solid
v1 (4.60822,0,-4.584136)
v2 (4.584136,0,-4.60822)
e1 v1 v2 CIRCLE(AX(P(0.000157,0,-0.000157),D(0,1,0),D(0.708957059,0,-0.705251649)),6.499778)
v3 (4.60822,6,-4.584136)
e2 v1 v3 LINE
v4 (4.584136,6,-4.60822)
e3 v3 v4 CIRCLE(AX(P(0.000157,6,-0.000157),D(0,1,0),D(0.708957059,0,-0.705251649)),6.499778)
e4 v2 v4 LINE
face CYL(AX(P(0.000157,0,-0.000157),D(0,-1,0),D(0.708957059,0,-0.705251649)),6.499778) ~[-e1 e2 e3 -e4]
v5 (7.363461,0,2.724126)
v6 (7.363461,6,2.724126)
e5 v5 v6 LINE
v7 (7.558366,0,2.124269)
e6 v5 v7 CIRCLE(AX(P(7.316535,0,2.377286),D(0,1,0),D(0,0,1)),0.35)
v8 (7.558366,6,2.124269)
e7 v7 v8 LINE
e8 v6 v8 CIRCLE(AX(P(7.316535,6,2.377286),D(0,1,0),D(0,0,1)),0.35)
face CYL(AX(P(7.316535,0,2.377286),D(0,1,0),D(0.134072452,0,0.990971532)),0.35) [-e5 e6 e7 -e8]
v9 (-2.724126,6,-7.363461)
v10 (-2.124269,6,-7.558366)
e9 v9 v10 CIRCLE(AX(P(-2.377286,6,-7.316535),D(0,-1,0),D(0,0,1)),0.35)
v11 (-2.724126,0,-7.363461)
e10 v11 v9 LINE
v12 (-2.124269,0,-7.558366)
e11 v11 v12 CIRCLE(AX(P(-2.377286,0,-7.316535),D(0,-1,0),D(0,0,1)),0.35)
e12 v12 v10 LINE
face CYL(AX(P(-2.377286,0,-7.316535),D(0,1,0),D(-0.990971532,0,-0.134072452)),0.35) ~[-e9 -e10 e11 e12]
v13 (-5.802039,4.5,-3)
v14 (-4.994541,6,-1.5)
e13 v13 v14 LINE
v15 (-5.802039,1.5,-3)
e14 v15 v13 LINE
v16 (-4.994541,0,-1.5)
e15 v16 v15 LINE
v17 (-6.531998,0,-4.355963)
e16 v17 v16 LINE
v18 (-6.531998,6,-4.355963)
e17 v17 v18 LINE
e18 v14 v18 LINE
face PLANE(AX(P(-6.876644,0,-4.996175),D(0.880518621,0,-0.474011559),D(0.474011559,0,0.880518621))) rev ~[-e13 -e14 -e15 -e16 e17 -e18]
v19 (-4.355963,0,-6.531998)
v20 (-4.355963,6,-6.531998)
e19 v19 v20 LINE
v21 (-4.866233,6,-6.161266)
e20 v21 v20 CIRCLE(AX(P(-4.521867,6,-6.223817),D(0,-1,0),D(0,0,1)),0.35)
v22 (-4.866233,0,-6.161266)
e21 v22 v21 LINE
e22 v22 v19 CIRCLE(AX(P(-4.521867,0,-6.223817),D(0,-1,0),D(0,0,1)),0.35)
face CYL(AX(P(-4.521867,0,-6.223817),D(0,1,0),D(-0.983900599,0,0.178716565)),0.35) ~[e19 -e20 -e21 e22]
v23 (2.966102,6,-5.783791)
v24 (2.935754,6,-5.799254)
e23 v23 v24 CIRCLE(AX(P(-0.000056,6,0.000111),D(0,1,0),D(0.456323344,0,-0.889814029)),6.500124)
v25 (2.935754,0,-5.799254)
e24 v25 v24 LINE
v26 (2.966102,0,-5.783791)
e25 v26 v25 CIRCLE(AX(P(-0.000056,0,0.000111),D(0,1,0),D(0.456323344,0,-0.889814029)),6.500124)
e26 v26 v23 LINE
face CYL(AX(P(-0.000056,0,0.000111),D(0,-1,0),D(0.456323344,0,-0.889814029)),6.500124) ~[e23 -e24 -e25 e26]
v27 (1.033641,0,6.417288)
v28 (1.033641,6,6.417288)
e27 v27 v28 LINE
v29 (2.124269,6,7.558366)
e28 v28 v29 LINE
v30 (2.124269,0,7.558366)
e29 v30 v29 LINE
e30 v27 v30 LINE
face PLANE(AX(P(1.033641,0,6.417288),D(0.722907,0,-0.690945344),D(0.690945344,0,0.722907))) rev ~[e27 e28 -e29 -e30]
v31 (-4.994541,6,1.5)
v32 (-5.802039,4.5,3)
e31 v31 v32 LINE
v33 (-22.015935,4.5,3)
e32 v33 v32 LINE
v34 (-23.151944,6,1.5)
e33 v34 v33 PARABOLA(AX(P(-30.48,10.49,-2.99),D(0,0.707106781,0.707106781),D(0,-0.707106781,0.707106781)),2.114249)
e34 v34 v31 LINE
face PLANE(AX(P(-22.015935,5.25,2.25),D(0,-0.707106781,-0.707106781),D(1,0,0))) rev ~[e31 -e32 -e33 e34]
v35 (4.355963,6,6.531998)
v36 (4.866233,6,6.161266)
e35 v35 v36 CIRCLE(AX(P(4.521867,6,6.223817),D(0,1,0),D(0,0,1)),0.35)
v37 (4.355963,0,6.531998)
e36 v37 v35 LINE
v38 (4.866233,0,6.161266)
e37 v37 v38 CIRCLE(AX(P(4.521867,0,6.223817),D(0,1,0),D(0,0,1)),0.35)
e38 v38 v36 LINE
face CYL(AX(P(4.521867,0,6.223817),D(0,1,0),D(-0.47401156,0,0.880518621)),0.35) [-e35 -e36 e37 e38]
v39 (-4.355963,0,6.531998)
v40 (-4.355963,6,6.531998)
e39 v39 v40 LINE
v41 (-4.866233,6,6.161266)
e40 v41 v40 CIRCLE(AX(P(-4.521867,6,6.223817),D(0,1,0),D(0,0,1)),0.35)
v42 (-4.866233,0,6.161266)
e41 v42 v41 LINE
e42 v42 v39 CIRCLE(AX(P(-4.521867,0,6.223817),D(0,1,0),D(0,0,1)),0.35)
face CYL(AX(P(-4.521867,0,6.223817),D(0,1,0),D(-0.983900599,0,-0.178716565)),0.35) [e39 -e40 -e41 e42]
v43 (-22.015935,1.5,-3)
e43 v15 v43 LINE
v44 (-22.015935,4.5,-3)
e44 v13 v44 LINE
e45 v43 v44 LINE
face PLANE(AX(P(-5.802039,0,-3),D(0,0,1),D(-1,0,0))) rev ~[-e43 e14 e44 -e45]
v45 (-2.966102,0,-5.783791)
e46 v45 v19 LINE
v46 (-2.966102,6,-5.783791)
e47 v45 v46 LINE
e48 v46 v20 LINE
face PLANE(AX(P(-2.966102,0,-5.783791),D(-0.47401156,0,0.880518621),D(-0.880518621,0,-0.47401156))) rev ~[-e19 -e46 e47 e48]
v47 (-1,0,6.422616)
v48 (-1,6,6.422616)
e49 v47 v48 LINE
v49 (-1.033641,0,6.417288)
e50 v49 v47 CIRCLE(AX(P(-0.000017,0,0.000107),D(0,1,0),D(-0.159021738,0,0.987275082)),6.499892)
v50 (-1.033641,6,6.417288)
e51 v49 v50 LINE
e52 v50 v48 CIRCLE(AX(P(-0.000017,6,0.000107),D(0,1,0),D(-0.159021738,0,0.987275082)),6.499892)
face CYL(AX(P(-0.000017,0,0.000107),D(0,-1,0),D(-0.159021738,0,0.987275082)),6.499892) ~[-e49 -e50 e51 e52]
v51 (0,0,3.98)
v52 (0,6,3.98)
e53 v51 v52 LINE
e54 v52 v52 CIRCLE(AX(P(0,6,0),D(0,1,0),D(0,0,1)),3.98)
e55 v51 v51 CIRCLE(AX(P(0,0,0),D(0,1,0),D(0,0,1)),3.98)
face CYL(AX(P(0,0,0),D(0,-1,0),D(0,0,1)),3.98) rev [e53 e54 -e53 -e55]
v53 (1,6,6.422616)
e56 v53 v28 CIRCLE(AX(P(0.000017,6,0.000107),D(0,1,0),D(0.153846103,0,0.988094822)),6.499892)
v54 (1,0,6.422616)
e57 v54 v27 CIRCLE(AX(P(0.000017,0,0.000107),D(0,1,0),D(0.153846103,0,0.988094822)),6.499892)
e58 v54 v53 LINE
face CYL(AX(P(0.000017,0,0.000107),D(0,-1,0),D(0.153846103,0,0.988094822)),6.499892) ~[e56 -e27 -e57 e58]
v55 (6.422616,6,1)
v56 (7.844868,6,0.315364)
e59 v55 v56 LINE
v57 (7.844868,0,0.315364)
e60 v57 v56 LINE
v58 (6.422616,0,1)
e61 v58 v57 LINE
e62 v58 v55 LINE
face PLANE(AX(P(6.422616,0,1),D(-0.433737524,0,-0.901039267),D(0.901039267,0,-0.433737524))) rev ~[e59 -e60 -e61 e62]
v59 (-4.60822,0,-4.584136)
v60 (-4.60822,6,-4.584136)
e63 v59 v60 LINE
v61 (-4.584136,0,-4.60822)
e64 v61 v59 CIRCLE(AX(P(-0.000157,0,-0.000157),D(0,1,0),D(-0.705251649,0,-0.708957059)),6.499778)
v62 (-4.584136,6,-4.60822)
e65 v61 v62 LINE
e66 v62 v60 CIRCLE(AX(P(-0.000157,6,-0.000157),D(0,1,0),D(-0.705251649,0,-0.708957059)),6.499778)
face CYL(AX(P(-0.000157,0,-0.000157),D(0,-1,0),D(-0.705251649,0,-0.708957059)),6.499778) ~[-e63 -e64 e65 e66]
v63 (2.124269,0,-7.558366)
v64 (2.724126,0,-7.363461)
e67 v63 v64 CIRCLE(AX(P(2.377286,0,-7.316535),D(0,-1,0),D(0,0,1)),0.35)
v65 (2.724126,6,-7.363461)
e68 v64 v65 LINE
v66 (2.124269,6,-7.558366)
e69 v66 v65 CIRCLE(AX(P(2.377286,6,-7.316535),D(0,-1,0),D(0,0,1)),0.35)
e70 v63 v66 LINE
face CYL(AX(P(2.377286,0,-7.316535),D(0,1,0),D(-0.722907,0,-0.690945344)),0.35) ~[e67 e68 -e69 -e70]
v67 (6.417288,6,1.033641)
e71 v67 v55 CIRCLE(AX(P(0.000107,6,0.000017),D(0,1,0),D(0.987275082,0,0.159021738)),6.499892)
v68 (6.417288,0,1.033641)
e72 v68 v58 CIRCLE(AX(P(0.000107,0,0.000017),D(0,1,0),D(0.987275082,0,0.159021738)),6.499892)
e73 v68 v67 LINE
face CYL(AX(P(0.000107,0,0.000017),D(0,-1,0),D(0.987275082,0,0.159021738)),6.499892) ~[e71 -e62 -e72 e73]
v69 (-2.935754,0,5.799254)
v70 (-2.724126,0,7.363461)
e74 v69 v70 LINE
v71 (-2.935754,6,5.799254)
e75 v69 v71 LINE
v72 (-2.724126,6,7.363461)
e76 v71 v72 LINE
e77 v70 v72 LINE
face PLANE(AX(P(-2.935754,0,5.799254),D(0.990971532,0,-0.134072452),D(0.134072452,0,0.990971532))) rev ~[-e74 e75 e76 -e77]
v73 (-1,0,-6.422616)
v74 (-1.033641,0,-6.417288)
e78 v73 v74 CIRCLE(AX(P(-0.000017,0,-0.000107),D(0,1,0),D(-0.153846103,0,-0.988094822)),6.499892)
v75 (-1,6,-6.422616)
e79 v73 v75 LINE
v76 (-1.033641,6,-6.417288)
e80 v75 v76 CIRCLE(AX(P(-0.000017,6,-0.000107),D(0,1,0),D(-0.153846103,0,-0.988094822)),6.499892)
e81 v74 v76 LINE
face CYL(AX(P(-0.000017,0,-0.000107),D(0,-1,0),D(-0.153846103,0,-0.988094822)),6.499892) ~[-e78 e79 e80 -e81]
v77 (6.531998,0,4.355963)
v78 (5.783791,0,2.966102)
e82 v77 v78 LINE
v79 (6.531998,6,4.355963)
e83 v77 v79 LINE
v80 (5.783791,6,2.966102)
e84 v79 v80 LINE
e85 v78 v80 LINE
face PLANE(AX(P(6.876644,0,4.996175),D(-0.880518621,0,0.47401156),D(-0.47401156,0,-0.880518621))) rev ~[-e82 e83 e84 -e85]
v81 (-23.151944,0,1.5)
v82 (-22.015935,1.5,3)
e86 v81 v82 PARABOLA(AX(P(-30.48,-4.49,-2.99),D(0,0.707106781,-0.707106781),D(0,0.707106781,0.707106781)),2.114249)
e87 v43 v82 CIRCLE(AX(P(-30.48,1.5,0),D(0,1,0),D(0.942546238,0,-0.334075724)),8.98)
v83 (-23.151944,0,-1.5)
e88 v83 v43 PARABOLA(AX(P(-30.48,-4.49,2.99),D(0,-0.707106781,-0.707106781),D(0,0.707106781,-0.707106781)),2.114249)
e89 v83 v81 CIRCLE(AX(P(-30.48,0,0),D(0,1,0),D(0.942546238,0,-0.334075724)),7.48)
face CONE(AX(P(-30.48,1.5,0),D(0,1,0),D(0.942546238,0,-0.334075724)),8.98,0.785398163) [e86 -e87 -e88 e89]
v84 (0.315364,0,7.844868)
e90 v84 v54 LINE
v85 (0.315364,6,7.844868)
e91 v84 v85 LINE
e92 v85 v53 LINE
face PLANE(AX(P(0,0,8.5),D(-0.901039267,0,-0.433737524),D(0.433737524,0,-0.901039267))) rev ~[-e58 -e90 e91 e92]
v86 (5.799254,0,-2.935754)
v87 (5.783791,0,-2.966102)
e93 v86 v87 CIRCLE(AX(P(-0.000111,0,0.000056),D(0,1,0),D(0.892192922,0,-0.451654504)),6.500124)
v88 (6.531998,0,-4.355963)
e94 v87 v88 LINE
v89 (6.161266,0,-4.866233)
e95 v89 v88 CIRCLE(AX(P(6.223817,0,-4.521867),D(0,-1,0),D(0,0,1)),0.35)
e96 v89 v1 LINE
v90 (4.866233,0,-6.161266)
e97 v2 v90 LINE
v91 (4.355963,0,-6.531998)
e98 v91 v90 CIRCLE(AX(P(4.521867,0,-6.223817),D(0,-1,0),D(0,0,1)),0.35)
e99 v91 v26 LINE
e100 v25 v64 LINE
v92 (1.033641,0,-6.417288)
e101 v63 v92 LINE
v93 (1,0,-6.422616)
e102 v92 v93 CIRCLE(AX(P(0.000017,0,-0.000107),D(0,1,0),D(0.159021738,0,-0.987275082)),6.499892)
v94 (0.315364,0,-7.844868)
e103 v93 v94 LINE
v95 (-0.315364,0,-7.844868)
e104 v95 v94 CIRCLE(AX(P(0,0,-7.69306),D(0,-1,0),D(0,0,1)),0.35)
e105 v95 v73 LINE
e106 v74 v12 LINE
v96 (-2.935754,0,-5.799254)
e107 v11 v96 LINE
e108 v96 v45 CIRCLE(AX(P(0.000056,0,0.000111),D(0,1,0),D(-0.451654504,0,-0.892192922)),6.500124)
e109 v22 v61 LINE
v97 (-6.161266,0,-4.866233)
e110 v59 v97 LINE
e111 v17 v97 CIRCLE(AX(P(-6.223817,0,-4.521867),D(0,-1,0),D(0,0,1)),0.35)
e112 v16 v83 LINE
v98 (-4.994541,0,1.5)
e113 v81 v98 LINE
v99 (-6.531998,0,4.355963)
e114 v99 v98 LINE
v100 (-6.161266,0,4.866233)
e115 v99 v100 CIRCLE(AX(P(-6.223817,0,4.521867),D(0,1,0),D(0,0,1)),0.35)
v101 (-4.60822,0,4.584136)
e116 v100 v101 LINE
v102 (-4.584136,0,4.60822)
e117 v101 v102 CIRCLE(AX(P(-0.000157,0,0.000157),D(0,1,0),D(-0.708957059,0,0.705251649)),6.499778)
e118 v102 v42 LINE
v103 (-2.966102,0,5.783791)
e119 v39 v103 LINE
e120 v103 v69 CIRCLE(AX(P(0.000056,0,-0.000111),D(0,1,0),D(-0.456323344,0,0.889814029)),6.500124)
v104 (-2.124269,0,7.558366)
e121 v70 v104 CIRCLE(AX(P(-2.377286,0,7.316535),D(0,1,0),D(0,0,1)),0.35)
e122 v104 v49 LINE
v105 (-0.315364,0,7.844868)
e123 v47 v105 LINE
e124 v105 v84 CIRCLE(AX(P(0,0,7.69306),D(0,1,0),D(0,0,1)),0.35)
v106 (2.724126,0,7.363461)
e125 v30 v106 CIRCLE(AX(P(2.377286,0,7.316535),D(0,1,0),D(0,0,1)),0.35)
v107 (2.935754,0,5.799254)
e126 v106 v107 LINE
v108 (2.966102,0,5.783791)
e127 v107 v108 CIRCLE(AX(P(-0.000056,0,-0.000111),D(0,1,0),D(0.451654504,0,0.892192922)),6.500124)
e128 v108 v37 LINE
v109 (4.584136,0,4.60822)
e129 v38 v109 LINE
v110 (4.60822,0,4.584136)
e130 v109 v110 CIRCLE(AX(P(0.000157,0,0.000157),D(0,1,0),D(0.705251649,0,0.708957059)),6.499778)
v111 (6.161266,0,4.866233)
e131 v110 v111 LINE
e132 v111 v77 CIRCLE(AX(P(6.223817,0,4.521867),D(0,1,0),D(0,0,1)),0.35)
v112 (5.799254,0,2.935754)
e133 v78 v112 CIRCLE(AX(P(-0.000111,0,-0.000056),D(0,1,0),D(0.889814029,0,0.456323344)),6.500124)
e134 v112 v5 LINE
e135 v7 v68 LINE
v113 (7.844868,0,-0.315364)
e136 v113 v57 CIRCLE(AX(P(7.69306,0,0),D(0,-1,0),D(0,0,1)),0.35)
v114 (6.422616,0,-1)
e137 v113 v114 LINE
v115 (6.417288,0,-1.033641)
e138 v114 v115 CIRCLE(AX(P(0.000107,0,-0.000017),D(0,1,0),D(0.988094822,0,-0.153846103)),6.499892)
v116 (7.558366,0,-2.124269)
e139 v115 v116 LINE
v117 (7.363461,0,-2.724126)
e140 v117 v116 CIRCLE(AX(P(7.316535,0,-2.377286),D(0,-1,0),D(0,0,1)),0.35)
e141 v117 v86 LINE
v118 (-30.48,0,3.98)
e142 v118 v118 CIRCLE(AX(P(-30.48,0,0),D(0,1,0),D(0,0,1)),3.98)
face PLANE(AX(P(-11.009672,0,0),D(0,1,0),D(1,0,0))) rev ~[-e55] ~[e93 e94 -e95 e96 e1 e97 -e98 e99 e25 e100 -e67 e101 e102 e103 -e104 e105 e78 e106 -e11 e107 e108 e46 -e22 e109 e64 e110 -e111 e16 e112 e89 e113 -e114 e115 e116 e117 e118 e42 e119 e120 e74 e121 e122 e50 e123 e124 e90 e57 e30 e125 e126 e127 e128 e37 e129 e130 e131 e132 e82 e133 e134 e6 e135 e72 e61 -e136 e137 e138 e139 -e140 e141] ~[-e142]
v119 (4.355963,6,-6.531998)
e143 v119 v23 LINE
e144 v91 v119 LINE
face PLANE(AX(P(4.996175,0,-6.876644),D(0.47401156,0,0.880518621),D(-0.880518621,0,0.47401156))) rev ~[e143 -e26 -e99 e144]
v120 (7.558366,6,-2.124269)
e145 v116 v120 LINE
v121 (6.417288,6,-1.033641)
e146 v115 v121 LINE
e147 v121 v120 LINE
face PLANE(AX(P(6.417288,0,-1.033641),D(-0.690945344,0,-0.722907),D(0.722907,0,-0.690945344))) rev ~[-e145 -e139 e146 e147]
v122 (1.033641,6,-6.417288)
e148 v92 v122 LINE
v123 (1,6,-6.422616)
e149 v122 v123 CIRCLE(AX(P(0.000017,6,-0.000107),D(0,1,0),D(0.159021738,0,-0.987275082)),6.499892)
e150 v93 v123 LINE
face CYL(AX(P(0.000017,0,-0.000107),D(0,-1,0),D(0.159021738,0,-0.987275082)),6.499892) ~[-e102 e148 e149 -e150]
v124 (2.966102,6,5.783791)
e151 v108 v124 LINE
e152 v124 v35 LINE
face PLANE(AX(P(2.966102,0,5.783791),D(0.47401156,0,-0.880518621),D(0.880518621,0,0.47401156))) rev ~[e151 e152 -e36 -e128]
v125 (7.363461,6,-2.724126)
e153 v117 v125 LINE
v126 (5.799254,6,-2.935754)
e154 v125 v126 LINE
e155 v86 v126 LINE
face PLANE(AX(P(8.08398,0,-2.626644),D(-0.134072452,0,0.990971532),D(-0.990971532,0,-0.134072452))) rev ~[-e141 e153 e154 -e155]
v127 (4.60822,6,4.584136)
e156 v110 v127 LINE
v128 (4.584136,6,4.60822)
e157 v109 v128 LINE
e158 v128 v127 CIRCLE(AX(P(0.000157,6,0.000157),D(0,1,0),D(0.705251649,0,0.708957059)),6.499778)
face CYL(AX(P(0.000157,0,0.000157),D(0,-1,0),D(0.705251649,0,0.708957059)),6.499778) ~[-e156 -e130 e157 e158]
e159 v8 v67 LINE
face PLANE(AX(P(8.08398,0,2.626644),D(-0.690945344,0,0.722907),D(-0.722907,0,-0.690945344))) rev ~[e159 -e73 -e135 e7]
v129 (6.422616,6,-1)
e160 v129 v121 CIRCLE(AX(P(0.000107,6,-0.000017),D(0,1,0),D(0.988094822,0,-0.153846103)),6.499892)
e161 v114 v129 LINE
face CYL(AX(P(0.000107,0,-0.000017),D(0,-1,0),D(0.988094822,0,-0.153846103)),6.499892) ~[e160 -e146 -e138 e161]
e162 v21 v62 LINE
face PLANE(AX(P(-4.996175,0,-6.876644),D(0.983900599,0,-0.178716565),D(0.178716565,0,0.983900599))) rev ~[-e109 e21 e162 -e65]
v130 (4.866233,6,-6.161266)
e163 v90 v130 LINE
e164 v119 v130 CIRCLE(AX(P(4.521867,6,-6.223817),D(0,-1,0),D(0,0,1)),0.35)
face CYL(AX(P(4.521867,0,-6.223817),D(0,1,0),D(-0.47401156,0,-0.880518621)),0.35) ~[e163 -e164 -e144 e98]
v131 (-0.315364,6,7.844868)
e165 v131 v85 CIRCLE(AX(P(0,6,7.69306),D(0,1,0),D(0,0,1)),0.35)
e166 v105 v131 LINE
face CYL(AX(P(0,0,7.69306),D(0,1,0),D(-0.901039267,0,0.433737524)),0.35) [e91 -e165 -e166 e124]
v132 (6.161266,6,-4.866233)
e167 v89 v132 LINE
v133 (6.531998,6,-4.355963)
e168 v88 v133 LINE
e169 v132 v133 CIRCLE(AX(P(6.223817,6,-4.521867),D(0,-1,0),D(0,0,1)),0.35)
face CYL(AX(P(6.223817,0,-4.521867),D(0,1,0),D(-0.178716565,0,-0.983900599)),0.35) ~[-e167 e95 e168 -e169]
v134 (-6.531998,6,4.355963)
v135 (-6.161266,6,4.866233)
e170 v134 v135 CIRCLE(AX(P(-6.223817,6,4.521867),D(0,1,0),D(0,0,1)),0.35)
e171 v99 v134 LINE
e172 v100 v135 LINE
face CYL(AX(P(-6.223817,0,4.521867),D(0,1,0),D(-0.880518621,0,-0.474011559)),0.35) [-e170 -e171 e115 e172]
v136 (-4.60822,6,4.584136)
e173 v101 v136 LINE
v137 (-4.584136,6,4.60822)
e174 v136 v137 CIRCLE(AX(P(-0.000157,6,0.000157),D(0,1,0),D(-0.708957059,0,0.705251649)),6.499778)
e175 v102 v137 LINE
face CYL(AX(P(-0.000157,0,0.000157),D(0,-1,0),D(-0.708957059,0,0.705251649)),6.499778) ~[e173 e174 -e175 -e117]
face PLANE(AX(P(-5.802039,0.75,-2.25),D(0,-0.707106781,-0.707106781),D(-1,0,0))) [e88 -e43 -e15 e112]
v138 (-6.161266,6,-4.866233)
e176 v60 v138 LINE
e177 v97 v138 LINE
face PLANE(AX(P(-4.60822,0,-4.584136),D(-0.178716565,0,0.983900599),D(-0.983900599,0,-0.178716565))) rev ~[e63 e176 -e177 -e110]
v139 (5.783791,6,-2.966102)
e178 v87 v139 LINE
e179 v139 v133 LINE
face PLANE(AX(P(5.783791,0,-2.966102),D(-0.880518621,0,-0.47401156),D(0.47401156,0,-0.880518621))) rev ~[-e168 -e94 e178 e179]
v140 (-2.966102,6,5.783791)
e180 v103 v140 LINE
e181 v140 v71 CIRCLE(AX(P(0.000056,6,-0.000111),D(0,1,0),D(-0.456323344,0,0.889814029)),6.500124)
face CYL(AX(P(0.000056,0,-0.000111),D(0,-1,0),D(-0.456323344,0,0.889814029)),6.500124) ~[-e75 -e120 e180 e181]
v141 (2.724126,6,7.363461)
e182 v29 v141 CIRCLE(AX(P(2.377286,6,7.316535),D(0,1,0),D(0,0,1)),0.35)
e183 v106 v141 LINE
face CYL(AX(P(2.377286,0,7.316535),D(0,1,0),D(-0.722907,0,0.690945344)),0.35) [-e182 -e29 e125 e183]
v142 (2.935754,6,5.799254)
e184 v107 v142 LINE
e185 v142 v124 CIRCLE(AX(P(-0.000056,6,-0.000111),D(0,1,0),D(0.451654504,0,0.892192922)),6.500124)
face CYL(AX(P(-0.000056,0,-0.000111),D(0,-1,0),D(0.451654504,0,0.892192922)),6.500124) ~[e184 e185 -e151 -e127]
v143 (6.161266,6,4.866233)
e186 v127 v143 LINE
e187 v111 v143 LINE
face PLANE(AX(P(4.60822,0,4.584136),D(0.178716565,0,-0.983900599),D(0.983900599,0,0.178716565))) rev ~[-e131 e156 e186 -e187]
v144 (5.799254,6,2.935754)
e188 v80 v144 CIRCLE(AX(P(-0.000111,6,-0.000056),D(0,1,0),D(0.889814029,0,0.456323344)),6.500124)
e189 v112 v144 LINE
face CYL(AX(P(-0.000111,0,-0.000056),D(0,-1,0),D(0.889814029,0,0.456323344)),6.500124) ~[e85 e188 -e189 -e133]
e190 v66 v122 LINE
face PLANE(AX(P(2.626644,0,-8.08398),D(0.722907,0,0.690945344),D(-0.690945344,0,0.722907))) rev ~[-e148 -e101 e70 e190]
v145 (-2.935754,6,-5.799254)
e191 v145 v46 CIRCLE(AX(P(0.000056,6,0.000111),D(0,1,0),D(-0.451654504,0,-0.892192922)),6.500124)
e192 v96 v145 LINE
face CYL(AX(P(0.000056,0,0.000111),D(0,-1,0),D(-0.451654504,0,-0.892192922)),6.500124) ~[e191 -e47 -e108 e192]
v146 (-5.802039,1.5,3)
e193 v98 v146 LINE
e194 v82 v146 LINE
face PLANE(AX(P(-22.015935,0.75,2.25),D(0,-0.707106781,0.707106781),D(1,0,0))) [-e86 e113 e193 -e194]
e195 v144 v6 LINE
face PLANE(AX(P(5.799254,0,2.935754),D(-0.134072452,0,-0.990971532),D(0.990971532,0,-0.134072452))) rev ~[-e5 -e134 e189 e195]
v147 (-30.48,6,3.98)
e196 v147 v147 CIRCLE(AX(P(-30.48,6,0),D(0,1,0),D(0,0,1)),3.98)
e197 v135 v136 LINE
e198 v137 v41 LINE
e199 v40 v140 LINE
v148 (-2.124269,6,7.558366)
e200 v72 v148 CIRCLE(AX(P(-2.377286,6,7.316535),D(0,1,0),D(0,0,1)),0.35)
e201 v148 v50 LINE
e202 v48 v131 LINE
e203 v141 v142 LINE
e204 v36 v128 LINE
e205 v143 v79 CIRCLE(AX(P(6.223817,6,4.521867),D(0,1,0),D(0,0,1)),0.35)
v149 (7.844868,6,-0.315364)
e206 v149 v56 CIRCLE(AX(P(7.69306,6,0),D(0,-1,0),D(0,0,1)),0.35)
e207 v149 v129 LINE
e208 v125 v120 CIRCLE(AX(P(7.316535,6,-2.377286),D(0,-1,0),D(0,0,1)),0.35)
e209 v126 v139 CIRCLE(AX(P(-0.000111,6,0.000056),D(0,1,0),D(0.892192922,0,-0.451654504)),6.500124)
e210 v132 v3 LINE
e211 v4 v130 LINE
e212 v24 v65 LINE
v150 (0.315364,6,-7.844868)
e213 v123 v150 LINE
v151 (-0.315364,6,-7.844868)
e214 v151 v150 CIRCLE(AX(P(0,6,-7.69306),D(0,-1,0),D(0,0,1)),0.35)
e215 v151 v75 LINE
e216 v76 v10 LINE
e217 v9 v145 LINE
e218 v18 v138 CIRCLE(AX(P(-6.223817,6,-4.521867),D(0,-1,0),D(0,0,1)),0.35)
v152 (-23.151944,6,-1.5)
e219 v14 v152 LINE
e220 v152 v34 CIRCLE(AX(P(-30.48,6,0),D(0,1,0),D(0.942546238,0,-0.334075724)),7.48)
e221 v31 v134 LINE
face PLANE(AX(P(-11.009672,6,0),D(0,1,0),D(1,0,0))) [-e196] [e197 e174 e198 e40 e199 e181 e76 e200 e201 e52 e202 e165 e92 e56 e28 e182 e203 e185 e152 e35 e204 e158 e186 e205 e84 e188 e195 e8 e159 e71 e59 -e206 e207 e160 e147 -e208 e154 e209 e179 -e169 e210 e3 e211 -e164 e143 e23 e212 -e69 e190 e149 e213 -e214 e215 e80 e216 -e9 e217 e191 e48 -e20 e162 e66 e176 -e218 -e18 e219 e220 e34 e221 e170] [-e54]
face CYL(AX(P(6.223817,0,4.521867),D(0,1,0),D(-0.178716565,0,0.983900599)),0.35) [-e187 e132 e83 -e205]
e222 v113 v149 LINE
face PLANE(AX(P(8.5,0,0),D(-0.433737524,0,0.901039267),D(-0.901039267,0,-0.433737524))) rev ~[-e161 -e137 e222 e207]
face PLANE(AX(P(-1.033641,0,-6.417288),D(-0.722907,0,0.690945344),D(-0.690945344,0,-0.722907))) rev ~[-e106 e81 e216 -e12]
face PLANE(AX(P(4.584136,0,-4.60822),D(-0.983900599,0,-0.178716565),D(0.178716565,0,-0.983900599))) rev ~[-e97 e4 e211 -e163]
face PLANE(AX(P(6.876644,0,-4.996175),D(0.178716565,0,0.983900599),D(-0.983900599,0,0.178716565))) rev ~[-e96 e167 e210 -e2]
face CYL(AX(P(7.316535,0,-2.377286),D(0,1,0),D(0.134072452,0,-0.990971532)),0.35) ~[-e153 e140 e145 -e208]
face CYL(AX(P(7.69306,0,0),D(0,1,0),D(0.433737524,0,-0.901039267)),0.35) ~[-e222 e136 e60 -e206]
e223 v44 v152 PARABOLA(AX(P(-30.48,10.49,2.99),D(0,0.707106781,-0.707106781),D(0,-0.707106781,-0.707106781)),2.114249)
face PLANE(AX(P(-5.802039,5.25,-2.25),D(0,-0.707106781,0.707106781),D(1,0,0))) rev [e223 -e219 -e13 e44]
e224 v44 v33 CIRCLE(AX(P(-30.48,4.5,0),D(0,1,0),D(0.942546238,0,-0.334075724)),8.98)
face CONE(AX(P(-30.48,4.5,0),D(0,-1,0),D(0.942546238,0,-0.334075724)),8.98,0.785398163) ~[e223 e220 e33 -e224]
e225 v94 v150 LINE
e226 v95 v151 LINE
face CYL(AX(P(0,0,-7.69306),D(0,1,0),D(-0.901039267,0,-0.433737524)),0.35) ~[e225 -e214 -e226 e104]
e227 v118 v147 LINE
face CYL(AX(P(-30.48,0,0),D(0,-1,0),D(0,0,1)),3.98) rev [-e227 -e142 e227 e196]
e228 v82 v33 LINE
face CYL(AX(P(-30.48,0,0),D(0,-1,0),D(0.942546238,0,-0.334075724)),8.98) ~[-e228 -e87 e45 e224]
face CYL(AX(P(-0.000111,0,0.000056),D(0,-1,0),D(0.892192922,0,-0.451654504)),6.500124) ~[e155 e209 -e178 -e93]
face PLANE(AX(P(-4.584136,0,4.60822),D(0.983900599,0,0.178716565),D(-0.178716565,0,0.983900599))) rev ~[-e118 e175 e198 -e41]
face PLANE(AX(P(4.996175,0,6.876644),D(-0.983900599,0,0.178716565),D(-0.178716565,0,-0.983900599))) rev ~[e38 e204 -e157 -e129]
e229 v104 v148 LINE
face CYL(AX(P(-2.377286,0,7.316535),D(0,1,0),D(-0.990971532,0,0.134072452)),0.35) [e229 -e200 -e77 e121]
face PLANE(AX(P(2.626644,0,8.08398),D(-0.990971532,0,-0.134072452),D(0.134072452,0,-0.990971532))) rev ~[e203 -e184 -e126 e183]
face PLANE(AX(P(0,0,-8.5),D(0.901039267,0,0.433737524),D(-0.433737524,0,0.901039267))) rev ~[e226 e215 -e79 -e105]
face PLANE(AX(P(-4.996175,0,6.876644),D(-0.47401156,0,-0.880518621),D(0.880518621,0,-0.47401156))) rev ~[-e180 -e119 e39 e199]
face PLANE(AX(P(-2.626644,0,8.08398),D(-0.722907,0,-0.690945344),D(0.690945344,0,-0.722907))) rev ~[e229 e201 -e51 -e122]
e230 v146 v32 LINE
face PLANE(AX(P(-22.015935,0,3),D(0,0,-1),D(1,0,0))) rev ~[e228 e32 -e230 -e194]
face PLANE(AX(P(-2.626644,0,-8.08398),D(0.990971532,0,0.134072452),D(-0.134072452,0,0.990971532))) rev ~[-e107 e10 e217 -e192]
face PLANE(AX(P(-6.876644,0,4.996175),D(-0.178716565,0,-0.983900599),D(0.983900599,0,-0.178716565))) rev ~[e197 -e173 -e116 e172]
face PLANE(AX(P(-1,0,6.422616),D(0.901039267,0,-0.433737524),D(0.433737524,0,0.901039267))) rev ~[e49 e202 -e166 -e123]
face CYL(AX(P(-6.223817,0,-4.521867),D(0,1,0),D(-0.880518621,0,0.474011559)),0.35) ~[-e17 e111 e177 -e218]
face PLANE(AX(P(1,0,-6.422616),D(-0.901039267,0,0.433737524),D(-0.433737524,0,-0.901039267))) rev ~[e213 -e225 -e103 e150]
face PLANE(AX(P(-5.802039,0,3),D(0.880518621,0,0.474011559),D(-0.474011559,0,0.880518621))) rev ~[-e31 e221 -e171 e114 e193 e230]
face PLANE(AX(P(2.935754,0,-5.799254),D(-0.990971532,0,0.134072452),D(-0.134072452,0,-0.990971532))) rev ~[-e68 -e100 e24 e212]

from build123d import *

# Parameters (mm, degrees)
SKETCH1_R           = 3.98
BOSS_EXTRUDE1_DEPTH = 6
FILLET1_R           = 0.35
CHAMFER1_SIZE       = 1.5


with BuildPart() as part:
    # Sketch1 → Boss-Extrude1 (new body)
    with BuildSketch(Plane(origin=(0, 0, 0), x_dir=(1, 0, 0), z_dir=(0, 1, 0))):
        with BuildLine():
            Line((-14.732151132, 3), (-22.015934783, 3))
            ThreePointArc((-22.015934783, 3), (-39.46, 0), (-22.015934783, -3))
            Line((-22.015934783, -3), (-5.802039289, -3))
            Line((-5.802039289, -3), (-6.876644452, -4.996174644))
            Line((-6.876644452, -4.996174644), (-4.608220474, -4.58413613))
            ThreePointArc((-4.608220474, -4.58413613), (-4.596194078, -4.596194078), (-4.58413613, -4.608220474))
            Line((-4.58413613, -4.608220474), (-4.996174644, -6.876644452))
            Line((-4.996174644, -6.876644452), (-2.966102142, -5.783790979))
            ThreePointArc((-2.966102142, -5.783790979), (-2.950938248, -5.791542407), (-2.935754098, -5.799254079))
            Line((-2.935754098, -5.799254079), (-2.626644452, -8.083980389))
            Line((-2.626644452, -8.083980389), (-1.033641065, -6.417288068))
            ThreePointArc((-1.033641065, -6.417288068), (-1.016824023, -6.419974214), (-1, -6.422616289))
            Line((-1, -6.422616289), (0, -8.5))
            Line((0, -8.5), (1, -6.422616289))
            ThreePointArc((1, -6.422616289), (1.016824023, -6.419974214), (1.033641065, -6.417288068))
            Line((1.033641065, -6.417288068), (2.626644452, -8.083980389))
            Line((2.626644452, -8.083980389), (2.935754098, -5.799254079))
            ThreePointArc((2.935754098, -5.799254079), (2.950938248, -5.791542407), (2.966102142, -5.783790979))
            Line((2.966102142, -5.783790979), (4.996174644, -6.876644452))
            Line((4.996174644, -6.876644452), (4.58413613, -4.608220474))
            ThreePointArc((4.58413613, -4.608220474), (4.596194078, -4.596194078), (4.608220474, -4.58413613))
            Line((4.608220474, -4.58413613), (6.876644452, -4.996174644))
            Line((6.876644452, -4.996174644), (5.783790979, -2.966102142))
            ThreePointArc((5.783790979, -2.966102142), (5.791542407, -2.950938248), (5.799254079, -2.935754098))
            Line((5.799254079, -2.935754098), (8.083980389, -2.626644452))
            Line((8.083980389, -2.626644452), (6.417288068, -1.033641065))
            ThreePointArc((6.417288068, -1.033641065), (6.419974214, -1.016824023), (6.422616289, -1))
            Line((6.422616289, -1), (8.5, 0))
            Line((8.5, 0), (6.422616289, 1))
            ThreePointArc((6.422616289, 1), (6.419974214, 1.016824023), (6.417288068, 1.033641065))
            Line((6.417288068, 1.033641065), (8.083980389, 2.626644452))
            Line((8.083980389, 2.626644452), (5.799254079, 2.935754098))
            ThreePointArc((5.799254079, 2.935754098), (5.791542407, 2.950938248), (5.783790979, 2.966102142))
            Line((5.783790979, 2.966102142), (6.876644452, 4.996174644))
            Line((6.876644452, 4.996174644), (4.608220474, 4.58413613))
            ThreePointArc((4.608220474, 4.58413613), (4.596194078, 4.596194078), (4.58413613, 4.608220474))
            Line((4.58413613, 4.608220474), (4.996174644, 6.876644452))
            Line((4.996174644, 6.876644452), (2.966102142, 5.783790979))
            ThreePointArc((2.966102142, 5.783790979), (2.950938248, 5.791542407), (2.935754098, 5.799254079))
            Line((2.935754098, 5.799254079), (2.626644452, 8.083980389))
            Line((2.626644452, 8.083980389), (1.033641065, 6.417288068))
            ThreePointArc((1.033641065, 6.417288068), (1.016824023, 6.419974214), (1, 6.422616289))
            Line((1, 6.422616289), (0, 8.5))
            Line((0, 8.5), (-1, 6.422616289))
            ThreePointArc((-1, 6.422616289), (-1.016824023, 6.419974214), (-1.033641065, 6.417288068))
            Line((-1.033641065, 6.417288068), (-2.626644452, 8.083980389))
            Line((-2.626644452, 8.083980389), (-2.935754098, 5.799254079))
            ThreePointArc((-2.935754098, 5.799254079), (-2.950938248, 5.791542407), (-2.966102142, 5.783790979))
            Line((-2.966102142, 5.783790979), (-4.996174644, 6.876644452))
            Line((-4.996174644, 6.876644452), (-4.58413613, 4.608220474))
            ThreePointArc((-4.58413613, 4.608220474), (-4.596194078, 4.596194078), (-4.608220474, 4.58413613))
            Line((-4.608220474, 4.58413613), (-6.876644452, 4.996174644))
            Line((-6.876644452, 4.996174644), (-5.802039289, 3))
            Line((-5.802039289, 3), (-14.732151132, 3))
        make_face()
        with Locations(Location((-30.48, 0, 0), (0, 0, 270))):
            Circle(SKETCH1_R, mode=Mode.SUBTRACT)
        with Locations(Location((0, 0, 0), (0, 0, 270))):
            Circle(SKETCH1_R, mode=Mode.SUBTRACT)
    extrude(amount=BOSS_EXTRUDE1_DEPTH)

    # Fillet1
    fillet1_edges = [part.edges().sort_by_distance(p)[0] for p in [
        (0, 3, 8.5),
        (-2.626644452, 3, 8.083980389),
        (-4.996174644, 3, 6.876644452),
        (-6.876644452, 3, 4.996174644),
        (-6.876644452, 3, -4.996174644),
        (-4.996174644, 3, -6.876644452),
        (-2.626644452, 3, -8.083980389),
        (0, 3, -8.5),
        (2.626644452, 3, -8.083980389),
        (4.996174644, 3, -6.876644452),
        (6.876644452, 3, -4.996174644),
        (8.083980389, 3, -2.626644452),
        (8.5, 3, 0),
        (8.083980389, 3, 2.626644452),
        (6.876644452, 3, 4.996174644),
        (4.996174644, 3, 6.876644452),
        (2.626644452, 3, 8.083980389),
    ]]
    fillet(fillet1_edges, radius=FILLET1_R)

    # Chamfer1
    chamfer1_edges = [part.edges().sort_by_distance(p)[0] for p in [
        (-13.908987036, 6, -3),
        (-39.46, 6, 0),
        (-13.908987036, 6, 3),
        (-13.908987036, 0, 3),
        (-39.46, 0, 0),
        (-13.908987036, 0, -3),
    ]]
    chamfer(chamfer1_edges, length=CHAMFER1_SIZE)


solid = part.part
